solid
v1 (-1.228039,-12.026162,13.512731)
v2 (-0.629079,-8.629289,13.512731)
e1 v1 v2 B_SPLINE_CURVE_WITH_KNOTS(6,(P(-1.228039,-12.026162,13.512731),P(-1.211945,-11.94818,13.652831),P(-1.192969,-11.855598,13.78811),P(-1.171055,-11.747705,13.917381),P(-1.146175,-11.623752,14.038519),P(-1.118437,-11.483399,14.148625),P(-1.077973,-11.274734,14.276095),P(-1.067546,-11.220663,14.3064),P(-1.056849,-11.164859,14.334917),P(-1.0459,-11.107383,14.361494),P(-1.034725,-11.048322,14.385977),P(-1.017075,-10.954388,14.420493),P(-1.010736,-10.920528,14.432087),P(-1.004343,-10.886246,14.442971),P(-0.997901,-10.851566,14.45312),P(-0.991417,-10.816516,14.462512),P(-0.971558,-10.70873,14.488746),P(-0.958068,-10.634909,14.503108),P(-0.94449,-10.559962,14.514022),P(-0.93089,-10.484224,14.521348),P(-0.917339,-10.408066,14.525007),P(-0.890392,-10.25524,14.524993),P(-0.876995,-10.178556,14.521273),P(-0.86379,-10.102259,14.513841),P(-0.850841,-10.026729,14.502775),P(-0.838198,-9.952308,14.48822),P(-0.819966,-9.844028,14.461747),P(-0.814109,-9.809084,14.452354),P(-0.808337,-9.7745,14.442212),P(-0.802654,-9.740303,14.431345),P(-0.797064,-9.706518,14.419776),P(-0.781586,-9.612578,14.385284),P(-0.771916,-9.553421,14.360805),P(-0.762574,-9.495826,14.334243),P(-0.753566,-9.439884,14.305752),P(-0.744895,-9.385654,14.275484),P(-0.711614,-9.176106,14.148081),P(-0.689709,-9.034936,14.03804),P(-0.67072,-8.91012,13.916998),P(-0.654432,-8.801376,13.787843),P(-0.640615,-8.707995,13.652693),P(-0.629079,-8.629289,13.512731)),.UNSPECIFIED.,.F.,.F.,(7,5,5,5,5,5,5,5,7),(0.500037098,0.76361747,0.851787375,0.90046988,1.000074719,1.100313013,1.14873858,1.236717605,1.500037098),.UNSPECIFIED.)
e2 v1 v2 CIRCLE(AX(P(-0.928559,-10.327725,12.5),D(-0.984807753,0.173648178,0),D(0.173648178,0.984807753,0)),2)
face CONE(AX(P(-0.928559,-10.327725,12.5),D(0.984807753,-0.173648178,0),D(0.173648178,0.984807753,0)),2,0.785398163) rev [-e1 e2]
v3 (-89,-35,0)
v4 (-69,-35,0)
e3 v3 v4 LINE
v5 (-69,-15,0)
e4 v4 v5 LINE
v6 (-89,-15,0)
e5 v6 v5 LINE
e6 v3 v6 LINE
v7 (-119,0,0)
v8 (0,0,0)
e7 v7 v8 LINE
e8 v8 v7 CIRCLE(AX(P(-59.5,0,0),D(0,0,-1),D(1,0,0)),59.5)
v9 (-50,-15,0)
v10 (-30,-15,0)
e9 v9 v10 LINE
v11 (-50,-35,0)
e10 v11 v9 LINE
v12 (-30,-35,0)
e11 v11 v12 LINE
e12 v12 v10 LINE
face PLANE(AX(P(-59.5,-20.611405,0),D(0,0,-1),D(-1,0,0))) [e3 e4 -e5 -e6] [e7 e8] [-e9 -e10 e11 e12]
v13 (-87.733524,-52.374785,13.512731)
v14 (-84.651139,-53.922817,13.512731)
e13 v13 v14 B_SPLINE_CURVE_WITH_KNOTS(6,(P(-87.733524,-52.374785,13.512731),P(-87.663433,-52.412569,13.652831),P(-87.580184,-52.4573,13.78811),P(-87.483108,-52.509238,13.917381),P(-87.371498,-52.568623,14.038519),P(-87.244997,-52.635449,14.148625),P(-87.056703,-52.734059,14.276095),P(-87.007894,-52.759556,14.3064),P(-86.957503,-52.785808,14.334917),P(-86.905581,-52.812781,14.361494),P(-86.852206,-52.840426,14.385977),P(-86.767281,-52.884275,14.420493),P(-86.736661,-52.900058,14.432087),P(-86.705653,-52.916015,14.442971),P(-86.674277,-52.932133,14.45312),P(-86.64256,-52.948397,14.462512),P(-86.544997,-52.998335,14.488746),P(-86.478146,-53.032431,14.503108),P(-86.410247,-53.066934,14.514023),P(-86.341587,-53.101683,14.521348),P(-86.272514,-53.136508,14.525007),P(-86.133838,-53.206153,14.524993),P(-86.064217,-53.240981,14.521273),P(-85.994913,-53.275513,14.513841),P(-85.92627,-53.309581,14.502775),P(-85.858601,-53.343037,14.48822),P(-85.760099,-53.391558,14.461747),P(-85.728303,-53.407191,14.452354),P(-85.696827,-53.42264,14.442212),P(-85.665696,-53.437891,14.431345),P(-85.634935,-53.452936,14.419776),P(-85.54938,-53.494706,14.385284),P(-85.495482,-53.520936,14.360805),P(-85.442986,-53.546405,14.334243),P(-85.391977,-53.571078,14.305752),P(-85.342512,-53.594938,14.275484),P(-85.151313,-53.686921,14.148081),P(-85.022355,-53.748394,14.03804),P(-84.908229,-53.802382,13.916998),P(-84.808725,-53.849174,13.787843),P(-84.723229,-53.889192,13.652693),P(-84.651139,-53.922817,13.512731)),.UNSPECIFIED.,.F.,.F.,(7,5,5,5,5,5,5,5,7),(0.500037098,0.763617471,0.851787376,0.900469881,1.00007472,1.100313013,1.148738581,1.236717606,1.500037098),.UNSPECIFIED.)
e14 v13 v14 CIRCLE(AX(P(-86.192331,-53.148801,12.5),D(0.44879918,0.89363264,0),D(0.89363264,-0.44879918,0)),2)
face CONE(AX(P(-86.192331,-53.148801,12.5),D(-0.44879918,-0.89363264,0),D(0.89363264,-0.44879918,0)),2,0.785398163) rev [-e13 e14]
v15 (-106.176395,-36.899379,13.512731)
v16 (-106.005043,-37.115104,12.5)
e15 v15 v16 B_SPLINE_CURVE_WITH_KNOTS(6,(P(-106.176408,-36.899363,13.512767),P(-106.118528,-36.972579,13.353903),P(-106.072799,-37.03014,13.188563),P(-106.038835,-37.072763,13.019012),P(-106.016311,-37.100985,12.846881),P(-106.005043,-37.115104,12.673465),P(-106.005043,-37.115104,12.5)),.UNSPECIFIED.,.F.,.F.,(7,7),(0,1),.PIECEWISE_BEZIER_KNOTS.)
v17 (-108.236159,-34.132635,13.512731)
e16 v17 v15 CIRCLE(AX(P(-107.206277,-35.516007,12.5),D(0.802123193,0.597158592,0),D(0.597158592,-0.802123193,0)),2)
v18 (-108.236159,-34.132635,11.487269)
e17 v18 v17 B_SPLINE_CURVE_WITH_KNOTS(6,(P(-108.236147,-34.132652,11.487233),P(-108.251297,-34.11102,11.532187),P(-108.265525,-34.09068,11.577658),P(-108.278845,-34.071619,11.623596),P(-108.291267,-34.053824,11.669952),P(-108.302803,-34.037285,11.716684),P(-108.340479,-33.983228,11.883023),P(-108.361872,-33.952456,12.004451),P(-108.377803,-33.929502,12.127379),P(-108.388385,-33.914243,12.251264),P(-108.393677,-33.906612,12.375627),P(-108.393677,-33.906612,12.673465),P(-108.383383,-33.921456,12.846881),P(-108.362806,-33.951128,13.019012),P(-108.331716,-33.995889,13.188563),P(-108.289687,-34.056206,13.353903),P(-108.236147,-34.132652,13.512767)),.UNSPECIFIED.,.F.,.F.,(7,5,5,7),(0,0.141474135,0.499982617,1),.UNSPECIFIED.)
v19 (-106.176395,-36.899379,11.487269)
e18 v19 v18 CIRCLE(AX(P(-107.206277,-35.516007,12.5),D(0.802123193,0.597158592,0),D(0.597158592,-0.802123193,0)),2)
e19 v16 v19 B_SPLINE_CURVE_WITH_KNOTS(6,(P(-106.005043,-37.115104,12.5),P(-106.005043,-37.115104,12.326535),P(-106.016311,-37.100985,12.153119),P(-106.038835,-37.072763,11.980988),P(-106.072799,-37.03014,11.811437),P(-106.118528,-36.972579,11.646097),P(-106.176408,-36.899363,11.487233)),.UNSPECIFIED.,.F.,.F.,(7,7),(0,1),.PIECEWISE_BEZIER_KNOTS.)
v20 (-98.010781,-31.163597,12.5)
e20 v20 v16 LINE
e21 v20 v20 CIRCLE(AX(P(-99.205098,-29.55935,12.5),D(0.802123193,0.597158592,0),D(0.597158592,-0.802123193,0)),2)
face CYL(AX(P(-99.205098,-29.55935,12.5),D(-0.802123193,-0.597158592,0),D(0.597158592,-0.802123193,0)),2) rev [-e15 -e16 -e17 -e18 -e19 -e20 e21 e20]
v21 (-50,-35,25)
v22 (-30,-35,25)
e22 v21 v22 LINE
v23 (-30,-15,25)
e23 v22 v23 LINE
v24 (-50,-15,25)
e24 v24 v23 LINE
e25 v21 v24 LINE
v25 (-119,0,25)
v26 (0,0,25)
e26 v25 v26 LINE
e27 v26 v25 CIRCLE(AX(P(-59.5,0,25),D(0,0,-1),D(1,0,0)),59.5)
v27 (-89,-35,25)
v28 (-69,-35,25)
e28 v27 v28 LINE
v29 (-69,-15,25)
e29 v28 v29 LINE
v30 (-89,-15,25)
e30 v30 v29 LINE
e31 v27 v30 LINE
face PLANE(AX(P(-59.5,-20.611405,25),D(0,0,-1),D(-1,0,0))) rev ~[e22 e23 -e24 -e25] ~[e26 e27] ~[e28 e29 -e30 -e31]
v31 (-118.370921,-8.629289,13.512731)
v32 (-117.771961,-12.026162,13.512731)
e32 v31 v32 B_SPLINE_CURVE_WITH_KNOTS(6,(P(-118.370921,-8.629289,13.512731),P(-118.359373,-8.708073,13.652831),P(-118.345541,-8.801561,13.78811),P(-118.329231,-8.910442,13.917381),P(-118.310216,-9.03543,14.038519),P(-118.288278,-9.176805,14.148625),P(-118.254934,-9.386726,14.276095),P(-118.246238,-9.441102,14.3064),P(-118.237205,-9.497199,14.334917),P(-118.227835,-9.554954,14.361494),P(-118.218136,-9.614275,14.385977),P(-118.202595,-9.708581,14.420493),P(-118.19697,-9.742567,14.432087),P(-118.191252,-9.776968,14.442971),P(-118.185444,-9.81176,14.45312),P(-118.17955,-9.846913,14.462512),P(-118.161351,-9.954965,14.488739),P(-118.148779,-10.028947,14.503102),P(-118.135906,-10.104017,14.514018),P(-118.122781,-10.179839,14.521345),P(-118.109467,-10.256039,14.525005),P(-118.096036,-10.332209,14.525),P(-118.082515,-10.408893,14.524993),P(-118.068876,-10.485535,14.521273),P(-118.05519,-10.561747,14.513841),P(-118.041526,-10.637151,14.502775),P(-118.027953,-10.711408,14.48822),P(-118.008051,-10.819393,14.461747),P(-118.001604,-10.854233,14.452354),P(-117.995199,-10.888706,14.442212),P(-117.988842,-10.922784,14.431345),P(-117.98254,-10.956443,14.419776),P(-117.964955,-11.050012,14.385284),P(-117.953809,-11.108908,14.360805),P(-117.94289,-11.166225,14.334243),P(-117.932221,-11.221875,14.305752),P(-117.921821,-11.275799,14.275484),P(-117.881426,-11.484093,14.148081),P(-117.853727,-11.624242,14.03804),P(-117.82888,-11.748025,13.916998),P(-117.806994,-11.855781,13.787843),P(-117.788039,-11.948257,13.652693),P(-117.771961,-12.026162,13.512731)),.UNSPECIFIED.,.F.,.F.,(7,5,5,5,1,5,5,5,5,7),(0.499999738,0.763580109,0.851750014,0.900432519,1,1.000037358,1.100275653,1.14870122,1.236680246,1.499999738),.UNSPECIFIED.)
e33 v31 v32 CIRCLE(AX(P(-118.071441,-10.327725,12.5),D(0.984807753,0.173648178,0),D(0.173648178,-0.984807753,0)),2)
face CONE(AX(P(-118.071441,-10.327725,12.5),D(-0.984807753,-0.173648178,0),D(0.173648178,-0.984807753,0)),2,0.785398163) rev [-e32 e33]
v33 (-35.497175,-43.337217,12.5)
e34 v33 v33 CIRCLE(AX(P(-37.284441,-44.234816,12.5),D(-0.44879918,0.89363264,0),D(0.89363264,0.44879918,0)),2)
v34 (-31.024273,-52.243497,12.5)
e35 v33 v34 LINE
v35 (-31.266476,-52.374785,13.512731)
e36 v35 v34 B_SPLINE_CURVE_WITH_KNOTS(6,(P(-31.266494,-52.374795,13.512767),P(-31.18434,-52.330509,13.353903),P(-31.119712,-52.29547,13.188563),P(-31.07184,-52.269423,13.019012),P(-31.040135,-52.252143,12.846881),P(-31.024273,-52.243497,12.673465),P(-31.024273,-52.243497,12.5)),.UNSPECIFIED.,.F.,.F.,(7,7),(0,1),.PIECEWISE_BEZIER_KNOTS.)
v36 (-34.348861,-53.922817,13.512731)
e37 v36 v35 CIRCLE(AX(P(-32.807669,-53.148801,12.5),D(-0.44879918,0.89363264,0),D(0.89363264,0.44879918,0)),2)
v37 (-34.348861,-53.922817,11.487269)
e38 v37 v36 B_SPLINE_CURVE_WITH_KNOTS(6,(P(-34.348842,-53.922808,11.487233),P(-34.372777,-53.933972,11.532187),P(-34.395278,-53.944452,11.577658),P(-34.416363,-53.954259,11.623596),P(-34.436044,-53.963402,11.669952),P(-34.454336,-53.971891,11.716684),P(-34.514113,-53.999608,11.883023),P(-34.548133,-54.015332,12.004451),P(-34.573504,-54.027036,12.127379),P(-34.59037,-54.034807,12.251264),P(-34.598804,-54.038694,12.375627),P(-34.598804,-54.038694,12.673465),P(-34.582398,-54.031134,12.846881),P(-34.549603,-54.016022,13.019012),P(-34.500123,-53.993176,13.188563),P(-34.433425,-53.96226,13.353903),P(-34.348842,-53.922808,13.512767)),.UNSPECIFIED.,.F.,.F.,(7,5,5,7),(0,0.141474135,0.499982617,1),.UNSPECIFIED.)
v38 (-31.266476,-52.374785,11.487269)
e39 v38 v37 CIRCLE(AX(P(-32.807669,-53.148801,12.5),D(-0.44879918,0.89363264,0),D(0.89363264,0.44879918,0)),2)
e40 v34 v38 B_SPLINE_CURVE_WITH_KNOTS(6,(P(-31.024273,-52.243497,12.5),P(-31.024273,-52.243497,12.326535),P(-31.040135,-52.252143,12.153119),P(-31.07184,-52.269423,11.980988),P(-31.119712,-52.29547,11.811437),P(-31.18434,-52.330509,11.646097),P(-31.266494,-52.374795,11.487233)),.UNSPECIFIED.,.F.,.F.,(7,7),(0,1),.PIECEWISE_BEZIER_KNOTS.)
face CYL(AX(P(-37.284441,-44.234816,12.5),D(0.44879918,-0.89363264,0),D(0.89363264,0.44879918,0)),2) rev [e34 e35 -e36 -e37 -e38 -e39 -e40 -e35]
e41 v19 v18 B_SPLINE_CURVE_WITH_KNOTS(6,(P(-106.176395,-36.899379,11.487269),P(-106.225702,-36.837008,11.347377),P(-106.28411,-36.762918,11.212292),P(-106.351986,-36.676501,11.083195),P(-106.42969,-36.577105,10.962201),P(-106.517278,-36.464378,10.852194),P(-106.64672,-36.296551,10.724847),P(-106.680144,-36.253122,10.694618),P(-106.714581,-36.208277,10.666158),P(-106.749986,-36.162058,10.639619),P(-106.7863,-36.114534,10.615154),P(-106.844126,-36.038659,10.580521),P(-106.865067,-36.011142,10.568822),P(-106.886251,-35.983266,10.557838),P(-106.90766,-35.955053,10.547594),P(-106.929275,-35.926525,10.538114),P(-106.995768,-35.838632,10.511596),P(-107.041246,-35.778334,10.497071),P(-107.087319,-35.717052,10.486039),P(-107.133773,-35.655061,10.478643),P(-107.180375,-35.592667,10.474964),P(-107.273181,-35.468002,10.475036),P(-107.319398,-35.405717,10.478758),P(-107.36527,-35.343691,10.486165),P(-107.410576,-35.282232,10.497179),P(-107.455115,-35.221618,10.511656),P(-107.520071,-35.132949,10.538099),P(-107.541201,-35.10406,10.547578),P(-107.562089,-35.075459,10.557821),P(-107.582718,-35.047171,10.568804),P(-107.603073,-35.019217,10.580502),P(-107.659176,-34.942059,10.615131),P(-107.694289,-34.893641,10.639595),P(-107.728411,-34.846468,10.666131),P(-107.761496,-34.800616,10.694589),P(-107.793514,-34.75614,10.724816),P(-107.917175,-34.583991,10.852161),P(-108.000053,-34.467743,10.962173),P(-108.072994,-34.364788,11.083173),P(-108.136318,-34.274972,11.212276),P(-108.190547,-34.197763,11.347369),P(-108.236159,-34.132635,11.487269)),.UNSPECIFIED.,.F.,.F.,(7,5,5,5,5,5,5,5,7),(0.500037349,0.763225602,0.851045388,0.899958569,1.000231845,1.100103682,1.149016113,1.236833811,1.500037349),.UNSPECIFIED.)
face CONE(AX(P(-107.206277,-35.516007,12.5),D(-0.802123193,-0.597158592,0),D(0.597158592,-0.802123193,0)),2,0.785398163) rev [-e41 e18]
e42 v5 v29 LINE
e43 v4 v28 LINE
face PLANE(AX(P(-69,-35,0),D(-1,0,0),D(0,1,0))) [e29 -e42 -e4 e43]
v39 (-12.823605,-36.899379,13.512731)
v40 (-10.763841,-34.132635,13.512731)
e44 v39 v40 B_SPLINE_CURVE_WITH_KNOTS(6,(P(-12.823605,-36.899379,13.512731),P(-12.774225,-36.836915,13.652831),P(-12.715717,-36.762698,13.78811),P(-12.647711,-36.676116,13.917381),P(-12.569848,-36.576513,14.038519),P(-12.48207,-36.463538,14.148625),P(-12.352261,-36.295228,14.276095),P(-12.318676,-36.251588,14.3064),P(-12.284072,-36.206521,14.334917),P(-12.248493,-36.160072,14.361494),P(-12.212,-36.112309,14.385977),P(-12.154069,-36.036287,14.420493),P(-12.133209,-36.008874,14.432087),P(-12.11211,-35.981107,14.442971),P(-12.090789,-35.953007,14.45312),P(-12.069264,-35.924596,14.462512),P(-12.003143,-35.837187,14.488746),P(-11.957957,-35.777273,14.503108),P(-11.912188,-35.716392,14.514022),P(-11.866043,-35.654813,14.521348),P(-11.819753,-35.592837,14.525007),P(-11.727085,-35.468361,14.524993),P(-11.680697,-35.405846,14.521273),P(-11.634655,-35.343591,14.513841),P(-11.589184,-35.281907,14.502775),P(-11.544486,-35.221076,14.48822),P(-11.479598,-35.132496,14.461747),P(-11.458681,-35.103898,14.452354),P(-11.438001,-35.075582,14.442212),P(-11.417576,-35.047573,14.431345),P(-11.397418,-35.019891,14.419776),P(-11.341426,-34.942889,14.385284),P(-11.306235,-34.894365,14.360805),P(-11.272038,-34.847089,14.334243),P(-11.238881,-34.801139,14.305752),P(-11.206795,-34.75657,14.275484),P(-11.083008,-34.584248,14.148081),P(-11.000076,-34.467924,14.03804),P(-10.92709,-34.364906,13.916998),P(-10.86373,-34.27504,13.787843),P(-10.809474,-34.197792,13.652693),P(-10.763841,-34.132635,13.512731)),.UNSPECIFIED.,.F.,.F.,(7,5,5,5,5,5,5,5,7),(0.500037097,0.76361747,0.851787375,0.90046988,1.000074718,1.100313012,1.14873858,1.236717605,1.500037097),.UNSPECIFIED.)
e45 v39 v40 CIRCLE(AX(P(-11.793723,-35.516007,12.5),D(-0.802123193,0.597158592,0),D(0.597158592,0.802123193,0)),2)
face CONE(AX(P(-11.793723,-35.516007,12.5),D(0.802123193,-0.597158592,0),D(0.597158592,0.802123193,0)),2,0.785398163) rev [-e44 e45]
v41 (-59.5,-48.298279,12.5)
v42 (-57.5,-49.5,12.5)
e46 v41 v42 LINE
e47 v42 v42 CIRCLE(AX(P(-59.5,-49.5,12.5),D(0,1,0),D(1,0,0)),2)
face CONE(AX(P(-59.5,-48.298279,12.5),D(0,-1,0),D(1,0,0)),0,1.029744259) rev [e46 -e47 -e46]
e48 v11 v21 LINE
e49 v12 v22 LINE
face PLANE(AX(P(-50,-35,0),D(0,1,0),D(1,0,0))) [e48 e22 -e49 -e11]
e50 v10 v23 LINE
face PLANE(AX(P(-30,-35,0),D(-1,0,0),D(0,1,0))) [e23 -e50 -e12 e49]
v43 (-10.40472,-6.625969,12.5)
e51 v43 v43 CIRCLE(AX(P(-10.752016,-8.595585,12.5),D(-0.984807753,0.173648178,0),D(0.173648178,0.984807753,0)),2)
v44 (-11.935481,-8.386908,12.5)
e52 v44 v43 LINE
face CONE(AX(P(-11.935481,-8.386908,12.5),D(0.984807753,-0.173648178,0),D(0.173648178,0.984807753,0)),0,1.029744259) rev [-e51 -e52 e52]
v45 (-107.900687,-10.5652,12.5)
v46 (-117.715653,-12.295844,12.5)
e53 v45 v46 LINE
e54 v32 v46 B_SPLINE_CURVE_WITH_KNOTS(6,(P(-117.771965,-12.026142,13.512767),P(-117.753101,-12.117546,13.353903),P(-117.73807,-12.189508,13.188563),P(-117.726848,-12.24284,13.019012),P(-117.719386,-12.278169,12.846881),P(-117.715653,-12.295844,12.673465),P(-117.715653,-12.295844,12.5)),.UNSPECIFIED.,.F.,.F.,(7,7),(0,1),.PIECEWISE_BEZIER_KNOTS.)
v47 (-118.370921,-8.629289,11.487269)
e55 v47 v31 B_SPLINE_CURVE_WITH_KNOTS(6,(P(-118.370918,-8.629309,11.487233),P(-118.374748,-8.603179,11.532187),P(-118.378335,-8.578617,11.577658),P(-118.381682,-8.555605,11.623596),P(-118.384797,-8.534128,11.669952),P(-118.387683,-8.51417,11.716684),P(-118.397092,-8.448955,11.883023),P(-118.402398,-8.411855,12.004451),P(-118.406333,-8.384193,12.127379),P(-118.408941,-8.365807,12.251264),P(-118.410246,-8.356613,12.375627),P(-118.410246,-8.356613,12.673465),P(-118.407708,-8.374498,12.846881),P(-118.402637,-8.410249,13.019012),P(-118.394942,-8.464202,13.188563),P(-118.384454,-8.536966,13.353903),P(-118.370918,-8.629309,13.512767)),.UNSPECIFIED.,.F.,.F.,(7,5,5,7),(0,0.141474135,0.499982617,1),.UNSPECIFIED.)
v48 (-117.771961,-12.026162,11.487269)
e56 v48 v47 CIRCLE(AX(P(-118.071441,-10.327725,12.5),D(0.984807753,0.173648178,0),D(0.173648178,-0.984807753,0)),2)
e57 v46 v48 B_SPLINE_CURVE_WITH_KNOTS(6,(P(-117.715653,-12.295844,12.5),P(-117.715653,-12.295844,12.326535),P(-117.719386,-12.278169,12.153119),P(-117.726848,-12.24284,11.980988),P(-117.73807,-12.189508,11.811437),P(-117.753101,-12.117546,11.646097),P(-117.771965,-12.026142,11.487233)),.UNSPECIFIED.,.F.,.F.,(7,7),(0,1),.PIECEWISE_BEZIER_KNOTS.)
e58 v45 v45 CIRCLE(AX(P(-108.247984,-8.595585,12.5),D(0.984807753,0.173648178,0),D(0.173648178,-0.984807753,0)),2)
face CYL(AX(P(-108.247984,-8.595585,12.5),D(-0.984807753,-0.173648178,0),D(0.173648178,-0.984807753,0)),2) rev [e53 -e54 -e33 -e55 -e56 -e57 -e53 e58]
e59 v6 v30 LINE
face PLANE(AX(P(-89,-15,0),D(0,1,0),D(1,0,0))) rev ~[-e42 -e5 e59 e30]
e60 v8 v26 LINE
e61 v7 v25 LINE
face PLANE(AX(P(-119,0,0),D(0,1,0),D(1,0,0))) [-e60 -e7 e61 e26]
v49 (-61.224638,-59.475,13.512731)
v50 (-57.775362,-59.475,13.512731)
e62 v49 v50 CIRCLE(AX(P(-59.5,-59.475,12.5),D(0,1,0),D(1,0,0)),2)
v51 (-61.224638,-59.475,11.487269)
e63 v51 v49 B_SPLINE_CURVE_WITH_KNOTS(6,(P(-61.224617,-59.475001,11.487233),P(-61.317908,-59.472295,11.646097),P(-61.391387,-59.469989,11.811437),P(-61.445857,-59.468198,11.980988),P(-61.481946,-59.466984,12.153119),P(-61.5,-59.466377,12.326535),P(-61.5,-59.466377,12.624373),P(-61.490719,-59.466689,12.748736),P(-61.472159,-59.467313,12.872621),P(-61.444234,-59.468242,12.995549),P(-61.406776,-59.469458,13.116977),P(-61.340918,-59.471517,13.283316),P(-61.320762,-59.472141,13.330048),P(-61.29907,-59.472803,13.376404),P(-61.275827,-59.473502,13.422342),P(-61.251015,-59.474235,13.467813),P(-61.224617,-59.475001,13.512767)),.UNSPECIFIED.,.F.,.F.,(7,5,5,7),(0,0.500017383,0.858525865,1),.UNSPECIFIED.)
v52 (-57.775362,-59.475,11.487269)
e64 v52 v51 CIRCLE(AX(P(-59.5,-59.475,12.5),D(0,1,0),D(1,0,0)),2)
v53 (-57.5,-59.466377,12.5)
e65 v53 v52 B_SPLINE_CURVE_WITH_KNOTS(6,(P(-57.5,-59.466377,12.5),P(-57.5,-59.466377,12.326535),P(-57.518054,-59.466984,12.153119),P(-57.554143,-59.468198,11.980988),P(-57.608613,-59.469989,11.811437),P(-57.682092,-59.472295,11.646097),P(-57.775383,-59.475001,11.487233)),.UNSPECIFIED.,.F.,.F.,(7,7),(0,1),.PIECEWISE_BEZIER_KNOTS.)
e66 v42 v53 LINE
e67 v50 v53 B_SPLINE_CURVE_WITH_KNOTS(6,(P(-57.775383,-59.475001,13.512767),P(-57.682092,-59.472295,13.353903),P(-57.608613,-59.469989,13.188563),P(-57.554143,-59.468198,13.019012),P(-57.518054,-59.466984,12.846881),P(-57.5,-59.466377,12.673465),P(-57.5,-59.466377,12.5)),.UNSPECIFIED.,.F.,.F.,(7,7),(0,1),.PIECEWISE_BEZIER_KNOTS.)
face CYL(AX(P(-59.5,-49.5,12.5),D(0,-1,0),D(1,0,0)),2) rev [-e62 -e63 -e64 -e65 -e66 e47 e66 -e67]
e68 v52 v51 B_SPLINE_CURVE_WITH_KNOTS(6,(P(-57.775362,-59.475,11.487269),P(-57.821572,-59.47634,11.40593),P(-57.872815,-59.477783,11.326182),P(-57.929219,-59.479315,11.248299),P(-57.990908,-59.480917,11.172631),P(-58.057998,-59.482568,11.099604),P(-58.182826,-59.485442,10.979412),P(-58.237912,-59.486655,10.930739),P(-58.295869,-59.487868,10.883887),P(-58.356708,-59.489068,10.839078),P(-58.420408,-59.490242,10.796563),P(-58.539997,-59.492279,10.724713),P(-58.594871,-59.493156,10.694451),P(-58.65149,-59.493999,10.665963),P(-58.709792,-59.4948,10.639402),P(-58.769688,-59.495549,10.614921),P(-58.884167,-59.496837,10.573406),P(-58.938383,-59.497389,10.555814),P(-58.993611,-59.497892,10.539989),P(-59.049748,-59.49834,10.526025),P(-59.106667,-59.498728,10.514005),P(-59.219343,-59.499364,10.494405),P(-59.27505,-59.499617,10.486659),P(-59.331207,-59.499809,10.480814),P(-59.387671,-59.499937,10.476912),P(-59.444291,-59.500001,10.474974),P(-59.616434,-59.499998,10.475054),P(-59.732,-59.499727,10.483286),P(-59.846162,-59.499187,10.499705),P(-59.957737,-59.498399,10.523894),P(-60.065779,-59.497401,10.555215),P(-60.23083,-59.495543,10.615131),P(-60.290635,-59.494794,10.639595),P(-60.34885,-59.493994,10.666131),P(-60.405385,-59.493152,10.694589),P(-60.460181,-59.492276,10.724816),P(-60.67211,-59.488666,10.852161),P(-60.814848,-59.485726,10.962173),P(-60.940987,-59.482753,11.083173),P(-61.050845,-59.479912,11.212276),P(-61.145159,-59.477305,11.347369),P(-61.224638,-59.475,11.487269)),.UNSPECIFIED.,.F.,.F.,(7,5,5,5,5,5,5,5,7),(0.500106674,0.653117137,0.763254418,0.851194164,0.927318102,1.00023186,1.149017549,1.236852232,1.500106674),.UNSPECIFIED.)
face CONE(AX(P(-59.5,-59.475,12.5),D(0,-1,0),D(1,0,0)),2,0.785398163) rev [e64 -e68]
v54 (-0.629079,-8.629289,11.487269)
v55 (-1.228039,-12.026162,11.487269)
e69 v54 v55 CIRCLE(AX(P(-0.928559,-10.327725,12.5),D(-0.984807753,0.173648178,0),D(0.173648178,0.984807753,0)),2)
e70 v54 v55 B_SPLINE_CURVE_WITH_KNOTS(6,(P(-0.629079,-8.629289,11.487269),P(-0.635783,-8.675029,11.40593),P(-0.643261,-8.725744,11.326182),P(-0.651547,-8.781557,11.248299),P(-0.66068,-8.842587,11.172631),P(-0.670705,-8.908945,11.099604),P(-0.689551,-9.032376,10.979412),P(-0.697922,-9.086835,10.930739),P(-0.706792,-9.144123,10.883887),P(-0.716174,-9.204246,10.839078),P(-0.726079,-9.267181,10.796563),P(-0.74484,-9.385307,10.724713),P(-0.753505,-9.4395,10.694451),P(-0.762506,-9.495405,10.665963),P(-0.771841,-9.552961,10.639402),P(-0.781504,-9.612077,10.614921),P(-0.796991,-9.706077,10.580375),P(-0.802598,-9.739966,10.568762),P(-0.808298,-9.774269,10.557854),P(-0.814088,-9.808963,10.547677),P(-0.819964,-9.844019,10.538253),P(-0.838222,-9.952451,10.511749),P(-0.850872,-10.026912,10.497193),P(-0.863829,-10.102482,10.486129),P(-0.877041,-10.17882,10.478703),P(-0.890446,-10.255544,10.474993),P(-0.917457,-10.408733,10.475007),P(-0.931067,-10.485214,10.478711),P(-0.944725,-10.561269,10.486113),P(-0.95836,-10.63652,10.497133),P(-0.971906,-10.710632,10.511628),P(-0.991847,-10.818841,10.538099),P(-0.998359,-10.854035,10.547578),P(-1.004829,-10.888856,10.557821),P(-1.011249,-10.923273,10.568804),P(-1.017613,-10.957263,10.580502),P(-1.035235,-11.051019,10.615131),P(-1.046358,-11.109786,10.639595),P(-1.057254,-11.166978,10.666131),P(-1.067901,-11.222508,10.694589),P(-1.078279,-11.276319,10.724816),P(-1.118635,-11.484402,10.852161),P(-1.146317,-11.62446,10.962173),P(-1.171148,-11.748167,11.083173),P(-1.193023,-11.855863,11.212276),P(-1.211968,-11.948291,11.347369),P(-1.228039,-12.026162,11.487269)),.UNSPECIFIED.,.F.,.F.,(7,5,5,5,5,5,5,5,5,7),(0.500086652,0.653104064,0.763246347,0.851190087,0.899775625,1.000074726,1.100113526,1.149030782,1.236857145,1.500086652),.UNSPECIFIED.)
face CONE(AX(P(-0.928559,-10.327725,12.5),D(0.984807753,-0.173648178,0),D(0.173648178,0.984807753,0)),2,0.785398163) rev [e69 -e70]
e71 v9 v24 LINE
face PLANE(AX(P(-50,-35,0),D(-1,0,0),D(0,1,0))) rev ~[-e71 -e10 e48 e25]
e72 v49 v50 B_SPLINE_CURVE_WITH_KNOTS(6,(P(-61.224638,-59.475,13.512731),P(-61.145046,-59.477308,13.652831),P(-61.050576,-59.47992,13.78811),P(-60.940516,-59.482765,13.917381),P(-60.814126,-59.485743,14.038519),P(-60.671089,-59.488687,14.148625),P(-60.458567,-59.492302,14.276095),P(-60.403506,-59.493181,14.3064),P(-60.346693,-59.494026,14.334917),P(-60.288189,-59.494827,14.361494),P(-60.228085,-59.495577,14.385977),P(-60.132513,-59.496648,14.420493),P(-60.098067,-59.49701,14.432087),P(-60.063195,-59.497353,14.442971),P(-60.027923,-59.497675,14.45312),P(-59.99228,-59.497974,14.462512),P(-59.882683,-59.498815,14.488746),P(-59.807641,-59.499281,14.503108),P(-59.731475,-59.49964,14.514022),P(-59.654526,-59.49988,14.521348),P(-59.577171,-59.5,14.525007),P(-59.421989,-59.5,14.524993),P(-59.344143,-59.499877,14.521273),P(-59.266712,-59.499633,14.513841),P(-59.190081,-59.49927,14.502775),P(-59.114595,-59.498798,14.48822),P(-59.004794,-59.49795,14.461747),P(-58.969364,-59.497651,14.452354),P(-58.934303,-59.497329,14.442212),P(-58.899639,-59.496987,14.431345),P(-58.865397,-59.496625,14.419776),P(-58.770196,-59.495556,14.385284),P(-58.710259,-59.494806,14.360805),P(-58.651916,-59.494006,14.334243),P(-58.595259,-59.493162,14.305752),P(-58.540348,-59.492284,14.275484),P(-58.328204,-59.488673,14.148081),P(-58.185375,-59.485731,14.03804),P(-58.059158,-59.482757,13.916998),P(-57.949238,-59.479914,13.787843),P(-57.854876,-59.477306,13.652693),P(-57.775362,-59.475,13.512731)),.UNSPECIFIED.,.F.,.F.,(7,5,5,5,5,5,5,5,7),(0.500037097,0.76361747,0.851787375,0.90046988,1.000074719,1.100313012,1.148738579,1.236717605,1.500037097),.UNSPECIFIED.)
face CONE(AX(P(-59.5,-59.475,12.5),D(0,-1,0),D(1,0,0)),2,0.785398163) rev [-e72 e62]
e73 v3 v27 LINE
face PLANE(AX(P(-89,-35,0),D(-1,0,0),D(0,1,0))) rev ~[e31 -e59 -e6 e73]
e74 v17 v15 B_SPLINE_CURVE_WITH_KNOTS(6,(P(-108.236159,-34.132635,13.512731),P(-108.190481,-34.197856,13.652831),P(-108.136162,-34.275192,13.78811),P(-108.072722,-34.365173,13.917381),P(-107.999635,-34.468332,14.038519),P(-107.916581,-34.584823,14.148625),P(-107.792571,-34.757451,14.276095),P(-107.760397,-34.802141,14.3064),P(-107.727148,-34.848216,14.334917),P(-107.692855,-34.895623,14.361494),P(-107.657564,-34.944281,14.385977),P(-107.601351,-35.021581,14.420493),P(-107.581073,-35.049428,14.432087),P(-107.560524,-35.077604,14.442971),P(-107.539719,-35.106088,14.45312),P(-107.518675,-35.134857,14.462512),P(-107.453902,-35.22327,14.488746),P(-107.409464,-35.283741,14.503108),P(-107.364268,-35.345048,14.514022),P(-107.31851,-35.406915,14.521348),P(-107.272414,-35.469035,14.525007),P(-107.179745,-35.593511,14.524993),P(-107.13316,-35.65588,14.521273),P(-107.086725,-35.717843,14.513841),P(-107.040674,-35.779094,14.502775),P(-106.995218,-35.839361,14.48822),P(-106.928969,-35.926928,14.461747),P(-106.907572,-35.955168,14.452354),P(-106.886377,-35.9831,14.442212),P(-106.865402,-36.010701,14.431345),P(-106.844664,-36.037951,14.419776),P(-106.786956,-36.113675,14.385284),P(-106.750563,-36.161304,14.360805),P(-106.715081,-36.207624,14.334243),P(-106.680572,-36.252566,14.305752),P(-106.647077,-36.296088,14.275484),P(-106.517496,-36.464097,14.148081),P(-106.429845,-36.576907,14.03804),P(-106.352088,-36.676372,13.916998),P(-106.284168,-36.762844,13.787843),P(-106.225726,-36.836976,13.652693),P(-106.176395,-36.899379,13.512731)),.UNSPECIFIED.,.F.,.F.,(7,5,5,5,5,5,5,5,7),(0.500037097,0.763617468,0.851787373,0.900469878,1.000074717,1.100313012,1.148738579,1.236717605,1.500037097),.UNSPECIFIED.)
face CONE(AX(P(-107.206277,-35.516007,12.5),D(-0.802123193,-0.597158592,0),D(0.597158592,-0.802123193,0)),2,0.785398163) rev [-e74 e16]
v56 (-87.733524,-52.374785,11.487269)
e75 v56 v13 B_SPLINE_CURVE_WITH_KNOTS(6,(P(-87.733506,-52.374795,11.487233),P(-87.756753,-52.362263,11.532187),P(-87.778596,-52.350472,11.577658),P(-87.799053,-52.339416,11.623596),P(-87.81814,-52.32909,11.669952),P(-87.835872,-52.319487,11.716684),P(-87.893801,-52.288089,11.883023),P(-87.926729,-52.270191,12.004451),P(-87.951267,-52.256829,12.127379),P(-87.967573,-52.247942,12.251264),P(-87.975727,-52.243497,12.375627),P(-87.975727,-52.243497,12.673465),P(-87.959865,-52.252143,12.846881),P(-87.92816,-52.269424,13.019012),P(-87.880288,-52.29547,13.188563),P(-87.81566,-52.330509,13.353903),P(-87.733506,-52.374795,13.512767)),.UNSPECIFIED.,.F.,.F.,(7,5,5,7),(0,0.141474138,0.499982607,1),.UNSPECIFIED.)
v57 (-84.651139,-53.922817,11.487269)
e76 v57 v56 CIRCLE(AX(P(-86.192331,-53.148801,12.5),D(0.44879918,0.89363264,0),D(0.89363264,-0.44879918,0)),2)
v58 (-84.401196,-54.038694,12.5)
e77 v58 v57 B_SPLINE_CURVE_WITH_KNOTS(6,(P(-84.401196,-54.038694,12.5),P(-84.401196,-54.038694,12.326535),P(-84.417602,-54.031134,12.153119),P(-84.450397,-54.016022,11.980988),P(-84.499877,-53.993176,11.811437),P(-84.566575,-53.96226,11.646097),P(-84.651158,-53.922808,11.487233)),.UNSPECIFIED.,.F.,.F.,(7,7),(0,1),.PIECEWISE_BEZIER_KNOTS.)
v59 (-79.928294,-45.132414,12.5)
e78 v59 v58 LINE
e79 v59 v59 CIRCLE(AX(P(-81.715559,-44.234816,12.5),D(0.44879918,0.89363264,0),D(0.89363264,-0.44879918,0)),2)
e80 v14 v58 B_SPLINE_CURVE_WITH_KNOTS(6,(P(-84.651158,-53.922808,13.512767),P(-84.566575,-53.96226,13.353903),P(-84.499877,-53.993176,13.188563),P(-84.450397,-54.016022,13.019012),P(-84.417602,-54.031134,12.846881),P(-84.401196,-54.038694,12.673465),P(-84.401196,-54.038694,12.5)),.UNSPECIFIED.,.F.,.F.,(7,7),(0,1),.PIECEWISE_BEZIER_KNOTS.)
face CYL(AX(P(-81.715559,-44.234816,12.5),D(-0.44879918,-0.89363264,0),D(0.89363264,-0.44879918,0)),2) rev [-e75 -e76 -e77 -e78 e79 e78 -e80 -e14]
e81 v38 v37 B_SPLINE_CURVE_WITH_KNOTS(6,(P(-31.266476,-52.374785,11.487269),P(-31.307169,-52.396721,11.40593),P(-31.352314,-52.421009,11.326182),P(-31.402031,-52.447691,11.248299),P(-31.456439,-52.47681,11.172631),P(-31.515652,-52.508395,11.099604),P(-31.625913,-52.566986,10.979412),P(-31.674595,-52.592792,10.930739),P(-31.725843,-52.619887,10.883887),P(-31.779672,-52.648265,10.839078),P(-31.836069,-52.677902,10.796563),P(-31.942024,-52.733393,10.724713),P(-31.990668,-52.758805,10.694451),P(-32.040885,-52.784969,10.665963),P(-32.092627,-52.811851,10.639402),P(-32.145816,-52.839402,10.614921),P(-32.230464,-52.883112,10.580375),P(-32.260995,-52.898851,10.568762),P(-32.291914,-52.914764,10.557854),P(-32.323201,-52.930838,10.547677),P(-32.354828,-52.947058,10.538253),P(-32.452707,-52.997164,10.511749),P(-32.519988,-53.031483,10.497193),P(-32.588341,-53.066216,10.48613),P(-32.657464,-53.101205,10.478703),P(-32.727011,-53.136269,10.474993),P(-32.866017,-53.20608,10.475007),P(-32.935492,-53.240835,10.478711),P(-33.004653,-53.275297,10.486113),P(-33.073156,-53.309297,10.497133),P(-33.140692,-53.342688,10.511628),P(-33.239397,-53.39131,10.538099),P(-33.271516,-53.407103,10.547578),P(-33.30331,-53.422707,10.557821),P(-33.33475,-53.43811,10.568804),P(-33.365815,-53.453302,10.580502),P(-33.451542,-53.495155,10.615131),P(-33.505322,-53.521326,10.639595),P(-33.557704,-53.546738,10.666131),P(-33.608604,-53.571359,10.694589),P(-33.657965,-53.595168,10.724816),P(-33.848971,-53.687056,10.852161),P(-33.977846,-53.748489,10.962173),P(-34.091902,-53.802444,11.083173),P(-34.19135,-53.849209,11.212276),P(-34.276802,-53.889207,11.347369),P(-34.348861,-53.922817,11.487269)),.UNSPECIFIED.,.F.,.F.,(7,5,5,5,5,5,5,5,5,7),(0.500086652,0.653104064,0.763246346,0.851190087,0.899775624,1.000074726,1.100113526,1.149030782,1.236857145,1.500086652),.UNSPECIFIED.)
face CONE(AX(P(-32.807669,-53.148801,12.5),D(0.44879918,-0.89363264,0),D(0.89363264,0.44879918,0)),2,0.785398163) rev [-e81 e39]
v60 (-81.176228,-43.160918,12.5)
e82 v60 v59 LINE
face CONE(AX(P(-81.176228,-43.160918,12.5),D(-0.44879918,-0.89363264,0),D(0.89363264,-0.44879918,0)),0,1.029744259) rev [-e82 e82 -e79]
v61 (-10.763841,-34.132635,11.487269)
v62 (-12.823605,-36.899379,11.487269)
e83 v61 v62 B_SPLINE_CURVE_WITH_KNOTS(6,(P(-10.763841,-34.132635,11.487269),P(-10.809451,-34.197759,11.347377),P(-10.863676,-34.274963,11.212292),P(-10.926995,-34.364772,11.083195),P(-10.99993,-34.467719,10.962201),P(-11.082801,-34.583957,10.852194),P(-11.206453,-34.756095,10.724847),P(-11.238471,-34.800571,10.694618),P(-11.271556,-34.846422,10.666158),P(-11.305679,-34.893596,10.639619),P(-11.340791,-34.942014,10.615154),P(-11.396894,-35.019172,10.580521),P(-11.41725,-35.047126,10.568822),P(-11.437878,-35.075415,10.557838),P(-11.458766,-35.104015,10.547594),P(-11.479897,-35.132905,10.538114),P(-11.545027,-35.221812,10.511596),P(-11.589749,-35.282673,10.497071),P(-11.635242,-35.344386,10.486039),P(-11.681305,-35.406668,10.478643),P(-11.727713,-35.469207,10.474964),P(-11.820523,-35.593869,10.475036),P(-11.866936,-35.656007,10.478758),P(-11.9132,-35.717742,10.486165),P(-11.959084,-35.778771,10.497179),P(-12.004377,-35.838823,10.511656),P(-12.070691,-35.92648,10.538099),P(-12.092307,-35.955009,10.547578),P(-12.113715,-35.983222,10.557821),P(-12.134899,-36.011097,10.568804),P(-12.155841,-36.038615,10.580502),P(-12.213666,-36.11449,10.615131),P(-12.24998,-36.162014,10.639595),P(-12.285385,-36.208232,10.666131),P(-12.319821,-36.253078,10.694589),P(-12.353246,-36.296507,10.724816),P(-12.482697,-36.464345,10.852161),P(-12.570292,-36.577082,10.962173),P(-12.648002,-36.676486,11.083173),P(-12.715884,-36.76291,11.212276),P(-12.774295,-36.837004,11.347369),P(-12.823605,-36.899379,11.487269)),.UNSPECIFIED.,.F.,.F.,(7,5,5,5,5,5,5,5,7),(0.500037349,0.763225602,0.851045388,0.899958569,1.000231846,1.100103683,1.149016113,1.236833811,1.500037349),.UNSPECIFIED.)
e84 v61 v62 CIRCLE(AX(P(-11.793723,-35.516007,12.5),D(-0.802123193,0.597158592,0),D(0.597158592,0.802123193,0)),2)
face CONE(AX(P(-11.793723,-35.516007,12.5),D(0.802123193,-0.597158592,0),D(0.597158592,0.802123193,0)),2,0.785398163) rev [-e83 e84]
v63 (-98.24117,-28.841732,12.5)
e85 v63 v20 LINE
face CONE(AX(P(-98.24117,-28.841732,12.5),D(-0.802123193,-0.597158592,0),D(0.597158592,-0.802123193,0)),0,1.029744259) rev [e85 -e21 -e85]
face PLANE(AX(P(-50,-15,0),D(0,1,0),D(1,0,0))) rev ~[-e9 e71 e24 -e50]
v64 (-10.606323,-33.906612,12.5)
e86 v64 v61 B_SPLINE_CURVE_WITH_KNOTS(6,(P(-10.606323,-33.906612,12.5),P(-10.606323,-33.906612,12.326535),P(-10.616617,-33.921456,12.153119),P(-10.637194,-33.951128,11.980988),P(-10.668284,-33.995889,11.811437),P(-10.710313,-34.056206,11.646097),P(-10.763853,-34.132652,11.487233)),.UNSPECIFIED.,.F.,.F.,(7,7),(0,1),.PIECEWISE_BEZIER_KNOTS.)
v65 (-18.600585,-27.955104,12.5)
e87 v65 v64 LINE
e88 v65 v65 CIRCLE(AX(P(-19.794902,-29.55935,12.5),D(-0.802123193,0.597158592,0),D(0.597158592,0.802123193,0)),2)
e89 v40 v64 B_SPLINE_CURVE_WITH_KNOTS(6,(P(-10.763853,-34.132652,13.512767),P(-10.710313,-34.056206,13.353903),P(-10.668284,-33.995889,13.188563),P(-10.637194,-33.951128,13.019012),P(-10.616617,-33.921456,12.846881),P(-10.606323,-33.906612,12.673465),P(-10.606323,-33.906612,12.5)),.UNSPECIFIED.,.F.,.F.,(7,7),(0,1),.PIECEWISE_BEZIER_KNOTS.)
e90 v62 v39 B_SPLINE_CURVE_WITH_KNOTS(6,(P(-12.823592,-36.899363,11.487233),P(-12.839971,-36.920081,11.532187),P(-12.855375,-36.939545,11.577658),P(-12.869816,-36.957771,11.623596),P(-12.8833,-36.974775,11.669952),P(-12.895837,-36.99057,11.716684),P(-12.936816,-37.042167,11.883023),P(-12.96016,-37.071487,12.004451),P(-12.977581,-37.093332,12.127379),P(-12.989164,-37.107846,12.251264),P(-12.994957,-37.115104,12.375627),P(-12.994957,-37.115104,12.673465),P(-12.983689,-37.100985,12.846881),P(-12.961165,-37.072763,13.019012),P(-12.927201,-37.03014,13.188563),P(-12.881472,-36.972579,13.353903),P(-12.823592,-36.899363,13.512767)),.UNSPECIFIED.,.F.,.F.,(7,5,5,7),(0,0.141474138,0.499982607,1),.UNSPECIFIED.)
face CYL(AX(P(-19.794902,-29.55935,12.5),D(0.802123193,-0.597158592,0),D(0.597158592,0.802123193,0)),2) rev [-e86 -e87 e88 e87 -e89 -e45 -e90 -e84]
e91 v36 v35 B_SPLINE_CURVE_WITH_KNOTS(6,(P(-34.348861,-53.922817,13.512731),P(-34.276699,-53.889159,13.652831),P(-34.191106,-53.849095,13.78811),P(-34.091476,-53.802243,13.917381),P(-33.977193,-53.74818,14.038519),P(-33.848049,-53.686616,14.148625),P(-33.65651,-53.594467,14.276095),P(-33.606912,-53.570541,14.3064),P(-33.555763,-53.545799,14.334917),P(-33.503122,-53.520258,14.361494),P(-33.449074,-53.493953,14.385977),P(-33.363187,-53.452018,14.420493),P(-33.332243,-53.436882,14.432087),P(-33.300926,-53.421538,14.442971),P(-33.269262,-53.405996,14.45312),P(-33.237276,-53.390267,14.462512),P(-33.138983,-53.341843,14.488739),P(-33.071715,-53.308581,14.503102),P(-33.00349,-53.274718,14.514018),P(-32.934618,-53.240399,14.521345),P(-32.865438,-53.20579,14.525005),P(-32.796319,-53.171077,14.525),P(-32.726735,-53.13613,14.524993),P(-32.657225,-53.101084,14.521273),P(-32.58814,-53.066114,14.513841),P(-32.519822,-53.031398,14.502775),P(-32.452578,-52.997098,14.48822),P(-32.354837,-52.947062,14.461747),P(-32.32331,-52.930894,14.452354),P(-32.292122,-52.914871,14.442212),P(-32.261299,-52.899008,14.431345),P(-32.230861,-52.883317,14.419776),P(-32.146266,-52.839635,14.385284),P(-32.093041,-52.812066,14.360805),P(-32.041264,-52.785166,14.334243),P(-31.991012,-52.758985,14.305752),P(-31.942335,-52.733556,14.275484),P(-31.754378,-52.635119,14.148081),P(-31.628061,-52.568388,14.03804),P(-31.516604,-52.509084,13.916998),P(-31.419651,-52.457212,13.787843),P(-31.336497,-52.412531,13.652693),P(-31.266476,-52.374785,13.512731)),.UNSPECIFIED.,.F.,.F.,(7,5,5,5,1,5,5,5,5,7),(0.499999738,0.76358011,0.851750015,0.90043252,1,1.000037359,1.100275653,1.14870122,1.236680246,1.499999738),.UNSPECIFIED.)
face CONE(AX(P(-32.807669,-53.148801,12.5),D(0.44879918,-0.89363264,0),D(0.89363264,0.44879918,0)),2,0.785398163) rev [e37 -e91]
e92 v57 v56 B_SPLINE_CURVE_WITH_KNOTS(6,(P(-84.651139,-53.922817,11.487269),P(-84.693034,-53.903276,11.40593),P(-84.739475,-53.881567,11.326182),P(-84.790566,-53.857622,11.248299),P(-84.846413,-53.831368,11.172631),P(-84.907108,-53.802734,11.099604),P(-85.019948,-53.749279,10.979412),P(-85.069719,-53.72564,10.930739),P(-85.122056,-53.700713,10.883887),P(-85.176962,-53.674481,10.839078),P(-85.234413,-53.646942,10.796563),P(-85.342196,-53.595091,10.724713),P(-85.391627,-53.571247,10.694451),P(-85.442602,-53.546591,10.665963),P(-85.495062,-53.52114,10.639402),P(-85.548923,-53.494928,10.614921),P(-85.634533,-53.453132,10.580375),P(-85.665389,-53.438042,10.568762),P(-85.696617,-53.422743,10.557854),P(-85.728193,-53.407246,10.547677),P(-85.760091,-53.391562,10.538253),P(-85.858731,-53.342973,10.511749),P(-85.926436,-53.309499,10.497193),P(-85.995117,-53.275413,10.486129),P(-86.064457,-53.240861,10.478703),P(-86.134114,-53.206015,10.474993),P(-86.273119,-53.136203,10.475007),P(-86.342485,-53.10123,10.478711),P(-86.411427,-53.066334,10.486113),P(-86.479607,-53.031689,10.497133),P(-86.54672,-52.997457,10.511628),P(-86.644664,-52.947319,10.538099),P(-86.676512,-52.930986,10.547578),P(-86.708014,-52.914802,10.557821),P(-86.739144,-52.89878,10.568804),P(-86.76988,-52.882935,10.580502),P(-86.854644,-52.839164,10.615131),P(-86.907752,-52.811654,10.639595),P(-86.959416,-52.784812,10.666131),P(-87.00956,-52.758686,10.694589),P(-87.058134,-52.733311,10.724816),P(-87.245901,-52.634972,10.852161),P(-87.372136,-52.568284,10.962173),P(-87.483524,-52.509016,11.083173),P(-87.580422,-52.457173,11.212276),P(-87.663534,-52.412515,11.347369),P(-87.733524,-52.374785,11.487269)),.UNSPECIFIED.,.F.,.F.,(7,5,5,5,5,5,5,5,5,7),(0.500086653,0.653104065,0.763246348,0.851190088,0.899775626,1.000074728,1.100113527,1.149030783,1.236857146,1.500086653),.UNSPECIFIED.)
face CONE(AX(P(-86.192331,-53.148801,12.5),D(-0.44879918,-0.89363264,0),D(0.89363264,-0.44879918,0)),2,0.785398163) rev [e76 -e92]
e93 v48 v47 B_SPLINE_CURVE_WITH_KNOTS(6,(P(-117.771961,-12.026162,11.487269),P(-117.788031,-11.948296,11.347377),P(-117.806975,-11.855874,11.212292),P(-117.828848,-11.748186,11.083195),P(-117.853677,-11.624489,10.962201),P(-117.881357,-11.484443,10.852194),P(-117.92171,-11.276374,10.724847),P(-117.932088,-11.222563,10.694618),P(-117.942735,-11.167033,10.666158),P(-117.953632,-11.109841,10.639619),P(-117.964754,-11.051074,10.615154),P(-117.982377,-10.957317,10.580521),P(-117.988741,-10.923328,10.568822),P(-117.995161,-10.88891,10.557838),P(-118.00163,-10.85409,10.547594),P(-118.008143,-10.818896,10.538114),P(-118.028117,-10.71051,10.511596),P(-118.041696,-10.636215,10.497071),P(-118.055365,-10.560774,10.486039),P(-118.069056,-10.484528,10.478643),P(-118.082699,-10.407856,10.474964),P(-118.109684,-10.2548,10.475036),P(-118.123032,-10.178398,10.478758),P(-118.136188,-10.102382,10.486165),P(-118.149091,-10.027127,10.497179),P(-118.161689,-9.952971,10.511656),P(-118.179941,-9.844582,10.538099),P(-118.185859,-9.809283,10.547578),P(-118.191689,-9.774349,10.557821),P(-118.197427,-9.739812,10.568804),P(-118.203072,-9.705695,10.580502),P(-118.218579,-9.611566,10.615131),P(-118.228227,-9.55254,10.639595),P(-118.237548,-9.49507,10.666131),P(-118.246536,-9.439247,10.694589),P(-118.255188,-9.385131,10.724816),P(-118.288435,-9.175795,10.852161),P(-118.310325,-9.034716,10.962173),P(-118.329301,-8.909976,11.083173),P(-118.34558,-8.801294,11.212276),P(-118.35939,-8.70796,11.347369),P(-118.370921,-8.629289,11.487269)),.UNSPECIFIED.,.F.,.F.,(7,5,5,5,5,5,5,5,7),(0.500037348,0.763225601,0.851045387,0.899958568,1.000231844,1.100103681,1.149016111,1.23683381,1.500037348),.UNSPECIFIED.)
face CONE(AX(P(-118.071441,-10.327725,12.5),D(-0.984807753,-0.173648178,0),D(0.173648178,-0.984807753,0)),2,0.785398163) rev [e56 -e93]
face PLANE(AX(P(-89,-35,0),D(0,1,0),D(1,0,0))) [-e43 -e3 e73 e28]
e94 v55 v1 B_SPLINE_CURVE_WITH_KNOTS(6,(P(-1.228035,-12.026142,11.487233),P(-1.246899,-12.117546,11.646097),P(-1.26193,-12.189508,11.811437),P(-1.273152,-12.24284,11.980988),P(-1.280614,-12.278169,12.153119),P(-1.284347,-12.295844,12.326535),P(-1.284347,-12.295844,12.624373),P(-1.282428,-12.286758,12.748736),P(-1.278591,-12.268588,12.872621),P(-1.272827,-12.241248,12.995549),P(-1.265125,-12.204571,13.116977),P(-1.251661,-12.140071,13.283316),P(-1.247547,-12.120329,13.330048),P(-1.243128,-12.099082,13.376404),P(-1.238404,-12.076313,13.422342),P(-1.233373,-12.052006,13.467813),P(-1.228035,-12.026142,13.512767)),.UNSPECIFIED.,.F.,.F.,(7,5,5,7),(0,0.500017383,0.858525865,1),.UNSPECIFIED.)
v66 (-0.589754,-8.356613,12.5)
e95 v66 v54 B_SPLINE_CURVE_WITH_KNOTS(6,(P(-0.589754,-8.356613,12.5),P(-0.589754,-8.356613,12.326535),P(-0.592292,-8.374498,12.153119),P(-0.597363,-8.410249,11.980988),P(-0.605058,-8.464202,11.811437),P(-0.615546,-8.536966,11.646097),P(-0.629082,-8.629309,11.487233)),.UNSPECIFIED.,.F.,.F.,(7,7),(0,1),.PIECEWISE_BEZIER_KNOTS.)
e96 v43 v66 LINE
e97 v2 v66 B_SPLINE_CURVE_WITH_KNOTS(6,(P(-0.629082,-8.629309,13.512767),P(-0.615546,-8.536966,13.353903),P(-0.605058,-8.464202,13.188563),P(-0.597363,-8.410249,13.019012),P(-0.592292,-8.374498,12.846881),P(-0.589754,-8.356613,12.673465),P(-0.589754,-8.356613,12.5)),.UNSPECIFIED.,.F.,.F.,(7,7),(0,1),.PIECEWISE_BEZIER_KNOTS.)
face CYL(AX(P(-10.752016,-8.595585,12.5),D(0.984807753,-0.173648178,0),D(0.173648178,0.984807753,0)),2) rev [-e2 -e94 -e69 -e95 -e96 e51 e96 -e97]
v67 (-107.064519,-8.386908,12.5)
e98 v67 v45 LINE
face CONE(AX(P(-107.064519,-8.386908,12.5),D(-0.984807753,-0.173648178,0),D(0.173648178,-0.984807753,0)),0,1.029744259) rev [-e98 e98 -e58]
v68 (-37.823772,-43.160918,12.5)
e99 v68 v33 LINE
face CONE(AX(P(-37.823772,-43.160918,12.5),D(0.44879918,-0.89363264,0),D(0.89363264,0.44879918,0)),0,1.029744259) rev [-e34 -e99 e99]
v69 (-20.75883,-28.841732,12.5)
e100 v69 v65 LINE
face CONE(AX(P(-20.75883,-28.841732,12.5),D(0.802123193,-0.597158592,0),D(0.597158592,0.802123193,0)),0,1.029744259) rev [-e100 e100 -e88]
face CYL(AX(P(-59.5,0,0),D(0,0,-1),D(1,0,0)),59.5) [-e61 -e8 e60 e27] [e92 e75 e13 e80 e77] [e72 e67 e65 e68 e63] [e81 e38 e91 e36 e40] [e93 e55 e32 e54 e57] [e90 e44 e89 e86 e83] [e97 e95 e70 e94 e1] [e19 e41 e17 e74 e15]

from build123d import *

# Parameters (mm, degrees)
SKETCH1_W           = 20
SKETCH1_H           = 20
BOSS_EXTRUDE1_DEPTH = 25
CIRPATTERN1_COUNT   = 7
CIRPATTERN1_ANGLE   = 160


with BuildPart() as part:
    # Sketch1 → Boss-Extrude1 (new body)
    with BuildSketch(Plane.XY):
        with BuildLine():
            Line((-119, 0), (0, 0))
            ThreePointArc((0, 0), (-59.5, -59.5), (-119, 0))
        make_face()
        with Locations((-40, -25)):
            Rectangle(SKETCH1_W, SKETCH1_H, mode=Mode.SUBTRACT)
        with Locations((-79, -25)):
            Rectangle(SKETCH1_W, SKETCH1_H, mode=Mode.SUBTRACT)
    extrude(amount=BOSS_EXTRUDE1_DEPTH)

    # Sketch4 → Ø4.0mm Dowel Hole2 (revolve, cut)
    with BuildSketch(Plane(origin=(-0.903938696, -10.332066571, 12.5), x_dir=(0.1736481776669305, 0.9848077530122081, 0), z_dir=(0, 0, 1))):
        Polygon((0, 0), (0, 11.201721238), (2, 10), (2, 0.025), (2.025, 0), align=None)
    f_4_0mm_dowel_hole2 = revolve(axis=Axis((5.349590536, -11.434732499, 12.5), (-0.9848077530122081, 0.1736481776669305, 0)), mode=Mode.SUBTRACT)

    # CirPattern1: Ø4.0mm Dowel Hole2 ×7 about axis
    cirpattern1_axis = Axis((-59.5, 0, 0), (0, 0, -1))
    for i in range(1, CIRPATTERN1_COUNT):
        add(f_4_0mm_dowel_hole2.rotate(cirpattern1_axis, i * CIRPATTERN1_ANGLE / (CIRPATTERN1_COUNT - 1)), mode=Mode.SUBTRACT)


solid = part.part
